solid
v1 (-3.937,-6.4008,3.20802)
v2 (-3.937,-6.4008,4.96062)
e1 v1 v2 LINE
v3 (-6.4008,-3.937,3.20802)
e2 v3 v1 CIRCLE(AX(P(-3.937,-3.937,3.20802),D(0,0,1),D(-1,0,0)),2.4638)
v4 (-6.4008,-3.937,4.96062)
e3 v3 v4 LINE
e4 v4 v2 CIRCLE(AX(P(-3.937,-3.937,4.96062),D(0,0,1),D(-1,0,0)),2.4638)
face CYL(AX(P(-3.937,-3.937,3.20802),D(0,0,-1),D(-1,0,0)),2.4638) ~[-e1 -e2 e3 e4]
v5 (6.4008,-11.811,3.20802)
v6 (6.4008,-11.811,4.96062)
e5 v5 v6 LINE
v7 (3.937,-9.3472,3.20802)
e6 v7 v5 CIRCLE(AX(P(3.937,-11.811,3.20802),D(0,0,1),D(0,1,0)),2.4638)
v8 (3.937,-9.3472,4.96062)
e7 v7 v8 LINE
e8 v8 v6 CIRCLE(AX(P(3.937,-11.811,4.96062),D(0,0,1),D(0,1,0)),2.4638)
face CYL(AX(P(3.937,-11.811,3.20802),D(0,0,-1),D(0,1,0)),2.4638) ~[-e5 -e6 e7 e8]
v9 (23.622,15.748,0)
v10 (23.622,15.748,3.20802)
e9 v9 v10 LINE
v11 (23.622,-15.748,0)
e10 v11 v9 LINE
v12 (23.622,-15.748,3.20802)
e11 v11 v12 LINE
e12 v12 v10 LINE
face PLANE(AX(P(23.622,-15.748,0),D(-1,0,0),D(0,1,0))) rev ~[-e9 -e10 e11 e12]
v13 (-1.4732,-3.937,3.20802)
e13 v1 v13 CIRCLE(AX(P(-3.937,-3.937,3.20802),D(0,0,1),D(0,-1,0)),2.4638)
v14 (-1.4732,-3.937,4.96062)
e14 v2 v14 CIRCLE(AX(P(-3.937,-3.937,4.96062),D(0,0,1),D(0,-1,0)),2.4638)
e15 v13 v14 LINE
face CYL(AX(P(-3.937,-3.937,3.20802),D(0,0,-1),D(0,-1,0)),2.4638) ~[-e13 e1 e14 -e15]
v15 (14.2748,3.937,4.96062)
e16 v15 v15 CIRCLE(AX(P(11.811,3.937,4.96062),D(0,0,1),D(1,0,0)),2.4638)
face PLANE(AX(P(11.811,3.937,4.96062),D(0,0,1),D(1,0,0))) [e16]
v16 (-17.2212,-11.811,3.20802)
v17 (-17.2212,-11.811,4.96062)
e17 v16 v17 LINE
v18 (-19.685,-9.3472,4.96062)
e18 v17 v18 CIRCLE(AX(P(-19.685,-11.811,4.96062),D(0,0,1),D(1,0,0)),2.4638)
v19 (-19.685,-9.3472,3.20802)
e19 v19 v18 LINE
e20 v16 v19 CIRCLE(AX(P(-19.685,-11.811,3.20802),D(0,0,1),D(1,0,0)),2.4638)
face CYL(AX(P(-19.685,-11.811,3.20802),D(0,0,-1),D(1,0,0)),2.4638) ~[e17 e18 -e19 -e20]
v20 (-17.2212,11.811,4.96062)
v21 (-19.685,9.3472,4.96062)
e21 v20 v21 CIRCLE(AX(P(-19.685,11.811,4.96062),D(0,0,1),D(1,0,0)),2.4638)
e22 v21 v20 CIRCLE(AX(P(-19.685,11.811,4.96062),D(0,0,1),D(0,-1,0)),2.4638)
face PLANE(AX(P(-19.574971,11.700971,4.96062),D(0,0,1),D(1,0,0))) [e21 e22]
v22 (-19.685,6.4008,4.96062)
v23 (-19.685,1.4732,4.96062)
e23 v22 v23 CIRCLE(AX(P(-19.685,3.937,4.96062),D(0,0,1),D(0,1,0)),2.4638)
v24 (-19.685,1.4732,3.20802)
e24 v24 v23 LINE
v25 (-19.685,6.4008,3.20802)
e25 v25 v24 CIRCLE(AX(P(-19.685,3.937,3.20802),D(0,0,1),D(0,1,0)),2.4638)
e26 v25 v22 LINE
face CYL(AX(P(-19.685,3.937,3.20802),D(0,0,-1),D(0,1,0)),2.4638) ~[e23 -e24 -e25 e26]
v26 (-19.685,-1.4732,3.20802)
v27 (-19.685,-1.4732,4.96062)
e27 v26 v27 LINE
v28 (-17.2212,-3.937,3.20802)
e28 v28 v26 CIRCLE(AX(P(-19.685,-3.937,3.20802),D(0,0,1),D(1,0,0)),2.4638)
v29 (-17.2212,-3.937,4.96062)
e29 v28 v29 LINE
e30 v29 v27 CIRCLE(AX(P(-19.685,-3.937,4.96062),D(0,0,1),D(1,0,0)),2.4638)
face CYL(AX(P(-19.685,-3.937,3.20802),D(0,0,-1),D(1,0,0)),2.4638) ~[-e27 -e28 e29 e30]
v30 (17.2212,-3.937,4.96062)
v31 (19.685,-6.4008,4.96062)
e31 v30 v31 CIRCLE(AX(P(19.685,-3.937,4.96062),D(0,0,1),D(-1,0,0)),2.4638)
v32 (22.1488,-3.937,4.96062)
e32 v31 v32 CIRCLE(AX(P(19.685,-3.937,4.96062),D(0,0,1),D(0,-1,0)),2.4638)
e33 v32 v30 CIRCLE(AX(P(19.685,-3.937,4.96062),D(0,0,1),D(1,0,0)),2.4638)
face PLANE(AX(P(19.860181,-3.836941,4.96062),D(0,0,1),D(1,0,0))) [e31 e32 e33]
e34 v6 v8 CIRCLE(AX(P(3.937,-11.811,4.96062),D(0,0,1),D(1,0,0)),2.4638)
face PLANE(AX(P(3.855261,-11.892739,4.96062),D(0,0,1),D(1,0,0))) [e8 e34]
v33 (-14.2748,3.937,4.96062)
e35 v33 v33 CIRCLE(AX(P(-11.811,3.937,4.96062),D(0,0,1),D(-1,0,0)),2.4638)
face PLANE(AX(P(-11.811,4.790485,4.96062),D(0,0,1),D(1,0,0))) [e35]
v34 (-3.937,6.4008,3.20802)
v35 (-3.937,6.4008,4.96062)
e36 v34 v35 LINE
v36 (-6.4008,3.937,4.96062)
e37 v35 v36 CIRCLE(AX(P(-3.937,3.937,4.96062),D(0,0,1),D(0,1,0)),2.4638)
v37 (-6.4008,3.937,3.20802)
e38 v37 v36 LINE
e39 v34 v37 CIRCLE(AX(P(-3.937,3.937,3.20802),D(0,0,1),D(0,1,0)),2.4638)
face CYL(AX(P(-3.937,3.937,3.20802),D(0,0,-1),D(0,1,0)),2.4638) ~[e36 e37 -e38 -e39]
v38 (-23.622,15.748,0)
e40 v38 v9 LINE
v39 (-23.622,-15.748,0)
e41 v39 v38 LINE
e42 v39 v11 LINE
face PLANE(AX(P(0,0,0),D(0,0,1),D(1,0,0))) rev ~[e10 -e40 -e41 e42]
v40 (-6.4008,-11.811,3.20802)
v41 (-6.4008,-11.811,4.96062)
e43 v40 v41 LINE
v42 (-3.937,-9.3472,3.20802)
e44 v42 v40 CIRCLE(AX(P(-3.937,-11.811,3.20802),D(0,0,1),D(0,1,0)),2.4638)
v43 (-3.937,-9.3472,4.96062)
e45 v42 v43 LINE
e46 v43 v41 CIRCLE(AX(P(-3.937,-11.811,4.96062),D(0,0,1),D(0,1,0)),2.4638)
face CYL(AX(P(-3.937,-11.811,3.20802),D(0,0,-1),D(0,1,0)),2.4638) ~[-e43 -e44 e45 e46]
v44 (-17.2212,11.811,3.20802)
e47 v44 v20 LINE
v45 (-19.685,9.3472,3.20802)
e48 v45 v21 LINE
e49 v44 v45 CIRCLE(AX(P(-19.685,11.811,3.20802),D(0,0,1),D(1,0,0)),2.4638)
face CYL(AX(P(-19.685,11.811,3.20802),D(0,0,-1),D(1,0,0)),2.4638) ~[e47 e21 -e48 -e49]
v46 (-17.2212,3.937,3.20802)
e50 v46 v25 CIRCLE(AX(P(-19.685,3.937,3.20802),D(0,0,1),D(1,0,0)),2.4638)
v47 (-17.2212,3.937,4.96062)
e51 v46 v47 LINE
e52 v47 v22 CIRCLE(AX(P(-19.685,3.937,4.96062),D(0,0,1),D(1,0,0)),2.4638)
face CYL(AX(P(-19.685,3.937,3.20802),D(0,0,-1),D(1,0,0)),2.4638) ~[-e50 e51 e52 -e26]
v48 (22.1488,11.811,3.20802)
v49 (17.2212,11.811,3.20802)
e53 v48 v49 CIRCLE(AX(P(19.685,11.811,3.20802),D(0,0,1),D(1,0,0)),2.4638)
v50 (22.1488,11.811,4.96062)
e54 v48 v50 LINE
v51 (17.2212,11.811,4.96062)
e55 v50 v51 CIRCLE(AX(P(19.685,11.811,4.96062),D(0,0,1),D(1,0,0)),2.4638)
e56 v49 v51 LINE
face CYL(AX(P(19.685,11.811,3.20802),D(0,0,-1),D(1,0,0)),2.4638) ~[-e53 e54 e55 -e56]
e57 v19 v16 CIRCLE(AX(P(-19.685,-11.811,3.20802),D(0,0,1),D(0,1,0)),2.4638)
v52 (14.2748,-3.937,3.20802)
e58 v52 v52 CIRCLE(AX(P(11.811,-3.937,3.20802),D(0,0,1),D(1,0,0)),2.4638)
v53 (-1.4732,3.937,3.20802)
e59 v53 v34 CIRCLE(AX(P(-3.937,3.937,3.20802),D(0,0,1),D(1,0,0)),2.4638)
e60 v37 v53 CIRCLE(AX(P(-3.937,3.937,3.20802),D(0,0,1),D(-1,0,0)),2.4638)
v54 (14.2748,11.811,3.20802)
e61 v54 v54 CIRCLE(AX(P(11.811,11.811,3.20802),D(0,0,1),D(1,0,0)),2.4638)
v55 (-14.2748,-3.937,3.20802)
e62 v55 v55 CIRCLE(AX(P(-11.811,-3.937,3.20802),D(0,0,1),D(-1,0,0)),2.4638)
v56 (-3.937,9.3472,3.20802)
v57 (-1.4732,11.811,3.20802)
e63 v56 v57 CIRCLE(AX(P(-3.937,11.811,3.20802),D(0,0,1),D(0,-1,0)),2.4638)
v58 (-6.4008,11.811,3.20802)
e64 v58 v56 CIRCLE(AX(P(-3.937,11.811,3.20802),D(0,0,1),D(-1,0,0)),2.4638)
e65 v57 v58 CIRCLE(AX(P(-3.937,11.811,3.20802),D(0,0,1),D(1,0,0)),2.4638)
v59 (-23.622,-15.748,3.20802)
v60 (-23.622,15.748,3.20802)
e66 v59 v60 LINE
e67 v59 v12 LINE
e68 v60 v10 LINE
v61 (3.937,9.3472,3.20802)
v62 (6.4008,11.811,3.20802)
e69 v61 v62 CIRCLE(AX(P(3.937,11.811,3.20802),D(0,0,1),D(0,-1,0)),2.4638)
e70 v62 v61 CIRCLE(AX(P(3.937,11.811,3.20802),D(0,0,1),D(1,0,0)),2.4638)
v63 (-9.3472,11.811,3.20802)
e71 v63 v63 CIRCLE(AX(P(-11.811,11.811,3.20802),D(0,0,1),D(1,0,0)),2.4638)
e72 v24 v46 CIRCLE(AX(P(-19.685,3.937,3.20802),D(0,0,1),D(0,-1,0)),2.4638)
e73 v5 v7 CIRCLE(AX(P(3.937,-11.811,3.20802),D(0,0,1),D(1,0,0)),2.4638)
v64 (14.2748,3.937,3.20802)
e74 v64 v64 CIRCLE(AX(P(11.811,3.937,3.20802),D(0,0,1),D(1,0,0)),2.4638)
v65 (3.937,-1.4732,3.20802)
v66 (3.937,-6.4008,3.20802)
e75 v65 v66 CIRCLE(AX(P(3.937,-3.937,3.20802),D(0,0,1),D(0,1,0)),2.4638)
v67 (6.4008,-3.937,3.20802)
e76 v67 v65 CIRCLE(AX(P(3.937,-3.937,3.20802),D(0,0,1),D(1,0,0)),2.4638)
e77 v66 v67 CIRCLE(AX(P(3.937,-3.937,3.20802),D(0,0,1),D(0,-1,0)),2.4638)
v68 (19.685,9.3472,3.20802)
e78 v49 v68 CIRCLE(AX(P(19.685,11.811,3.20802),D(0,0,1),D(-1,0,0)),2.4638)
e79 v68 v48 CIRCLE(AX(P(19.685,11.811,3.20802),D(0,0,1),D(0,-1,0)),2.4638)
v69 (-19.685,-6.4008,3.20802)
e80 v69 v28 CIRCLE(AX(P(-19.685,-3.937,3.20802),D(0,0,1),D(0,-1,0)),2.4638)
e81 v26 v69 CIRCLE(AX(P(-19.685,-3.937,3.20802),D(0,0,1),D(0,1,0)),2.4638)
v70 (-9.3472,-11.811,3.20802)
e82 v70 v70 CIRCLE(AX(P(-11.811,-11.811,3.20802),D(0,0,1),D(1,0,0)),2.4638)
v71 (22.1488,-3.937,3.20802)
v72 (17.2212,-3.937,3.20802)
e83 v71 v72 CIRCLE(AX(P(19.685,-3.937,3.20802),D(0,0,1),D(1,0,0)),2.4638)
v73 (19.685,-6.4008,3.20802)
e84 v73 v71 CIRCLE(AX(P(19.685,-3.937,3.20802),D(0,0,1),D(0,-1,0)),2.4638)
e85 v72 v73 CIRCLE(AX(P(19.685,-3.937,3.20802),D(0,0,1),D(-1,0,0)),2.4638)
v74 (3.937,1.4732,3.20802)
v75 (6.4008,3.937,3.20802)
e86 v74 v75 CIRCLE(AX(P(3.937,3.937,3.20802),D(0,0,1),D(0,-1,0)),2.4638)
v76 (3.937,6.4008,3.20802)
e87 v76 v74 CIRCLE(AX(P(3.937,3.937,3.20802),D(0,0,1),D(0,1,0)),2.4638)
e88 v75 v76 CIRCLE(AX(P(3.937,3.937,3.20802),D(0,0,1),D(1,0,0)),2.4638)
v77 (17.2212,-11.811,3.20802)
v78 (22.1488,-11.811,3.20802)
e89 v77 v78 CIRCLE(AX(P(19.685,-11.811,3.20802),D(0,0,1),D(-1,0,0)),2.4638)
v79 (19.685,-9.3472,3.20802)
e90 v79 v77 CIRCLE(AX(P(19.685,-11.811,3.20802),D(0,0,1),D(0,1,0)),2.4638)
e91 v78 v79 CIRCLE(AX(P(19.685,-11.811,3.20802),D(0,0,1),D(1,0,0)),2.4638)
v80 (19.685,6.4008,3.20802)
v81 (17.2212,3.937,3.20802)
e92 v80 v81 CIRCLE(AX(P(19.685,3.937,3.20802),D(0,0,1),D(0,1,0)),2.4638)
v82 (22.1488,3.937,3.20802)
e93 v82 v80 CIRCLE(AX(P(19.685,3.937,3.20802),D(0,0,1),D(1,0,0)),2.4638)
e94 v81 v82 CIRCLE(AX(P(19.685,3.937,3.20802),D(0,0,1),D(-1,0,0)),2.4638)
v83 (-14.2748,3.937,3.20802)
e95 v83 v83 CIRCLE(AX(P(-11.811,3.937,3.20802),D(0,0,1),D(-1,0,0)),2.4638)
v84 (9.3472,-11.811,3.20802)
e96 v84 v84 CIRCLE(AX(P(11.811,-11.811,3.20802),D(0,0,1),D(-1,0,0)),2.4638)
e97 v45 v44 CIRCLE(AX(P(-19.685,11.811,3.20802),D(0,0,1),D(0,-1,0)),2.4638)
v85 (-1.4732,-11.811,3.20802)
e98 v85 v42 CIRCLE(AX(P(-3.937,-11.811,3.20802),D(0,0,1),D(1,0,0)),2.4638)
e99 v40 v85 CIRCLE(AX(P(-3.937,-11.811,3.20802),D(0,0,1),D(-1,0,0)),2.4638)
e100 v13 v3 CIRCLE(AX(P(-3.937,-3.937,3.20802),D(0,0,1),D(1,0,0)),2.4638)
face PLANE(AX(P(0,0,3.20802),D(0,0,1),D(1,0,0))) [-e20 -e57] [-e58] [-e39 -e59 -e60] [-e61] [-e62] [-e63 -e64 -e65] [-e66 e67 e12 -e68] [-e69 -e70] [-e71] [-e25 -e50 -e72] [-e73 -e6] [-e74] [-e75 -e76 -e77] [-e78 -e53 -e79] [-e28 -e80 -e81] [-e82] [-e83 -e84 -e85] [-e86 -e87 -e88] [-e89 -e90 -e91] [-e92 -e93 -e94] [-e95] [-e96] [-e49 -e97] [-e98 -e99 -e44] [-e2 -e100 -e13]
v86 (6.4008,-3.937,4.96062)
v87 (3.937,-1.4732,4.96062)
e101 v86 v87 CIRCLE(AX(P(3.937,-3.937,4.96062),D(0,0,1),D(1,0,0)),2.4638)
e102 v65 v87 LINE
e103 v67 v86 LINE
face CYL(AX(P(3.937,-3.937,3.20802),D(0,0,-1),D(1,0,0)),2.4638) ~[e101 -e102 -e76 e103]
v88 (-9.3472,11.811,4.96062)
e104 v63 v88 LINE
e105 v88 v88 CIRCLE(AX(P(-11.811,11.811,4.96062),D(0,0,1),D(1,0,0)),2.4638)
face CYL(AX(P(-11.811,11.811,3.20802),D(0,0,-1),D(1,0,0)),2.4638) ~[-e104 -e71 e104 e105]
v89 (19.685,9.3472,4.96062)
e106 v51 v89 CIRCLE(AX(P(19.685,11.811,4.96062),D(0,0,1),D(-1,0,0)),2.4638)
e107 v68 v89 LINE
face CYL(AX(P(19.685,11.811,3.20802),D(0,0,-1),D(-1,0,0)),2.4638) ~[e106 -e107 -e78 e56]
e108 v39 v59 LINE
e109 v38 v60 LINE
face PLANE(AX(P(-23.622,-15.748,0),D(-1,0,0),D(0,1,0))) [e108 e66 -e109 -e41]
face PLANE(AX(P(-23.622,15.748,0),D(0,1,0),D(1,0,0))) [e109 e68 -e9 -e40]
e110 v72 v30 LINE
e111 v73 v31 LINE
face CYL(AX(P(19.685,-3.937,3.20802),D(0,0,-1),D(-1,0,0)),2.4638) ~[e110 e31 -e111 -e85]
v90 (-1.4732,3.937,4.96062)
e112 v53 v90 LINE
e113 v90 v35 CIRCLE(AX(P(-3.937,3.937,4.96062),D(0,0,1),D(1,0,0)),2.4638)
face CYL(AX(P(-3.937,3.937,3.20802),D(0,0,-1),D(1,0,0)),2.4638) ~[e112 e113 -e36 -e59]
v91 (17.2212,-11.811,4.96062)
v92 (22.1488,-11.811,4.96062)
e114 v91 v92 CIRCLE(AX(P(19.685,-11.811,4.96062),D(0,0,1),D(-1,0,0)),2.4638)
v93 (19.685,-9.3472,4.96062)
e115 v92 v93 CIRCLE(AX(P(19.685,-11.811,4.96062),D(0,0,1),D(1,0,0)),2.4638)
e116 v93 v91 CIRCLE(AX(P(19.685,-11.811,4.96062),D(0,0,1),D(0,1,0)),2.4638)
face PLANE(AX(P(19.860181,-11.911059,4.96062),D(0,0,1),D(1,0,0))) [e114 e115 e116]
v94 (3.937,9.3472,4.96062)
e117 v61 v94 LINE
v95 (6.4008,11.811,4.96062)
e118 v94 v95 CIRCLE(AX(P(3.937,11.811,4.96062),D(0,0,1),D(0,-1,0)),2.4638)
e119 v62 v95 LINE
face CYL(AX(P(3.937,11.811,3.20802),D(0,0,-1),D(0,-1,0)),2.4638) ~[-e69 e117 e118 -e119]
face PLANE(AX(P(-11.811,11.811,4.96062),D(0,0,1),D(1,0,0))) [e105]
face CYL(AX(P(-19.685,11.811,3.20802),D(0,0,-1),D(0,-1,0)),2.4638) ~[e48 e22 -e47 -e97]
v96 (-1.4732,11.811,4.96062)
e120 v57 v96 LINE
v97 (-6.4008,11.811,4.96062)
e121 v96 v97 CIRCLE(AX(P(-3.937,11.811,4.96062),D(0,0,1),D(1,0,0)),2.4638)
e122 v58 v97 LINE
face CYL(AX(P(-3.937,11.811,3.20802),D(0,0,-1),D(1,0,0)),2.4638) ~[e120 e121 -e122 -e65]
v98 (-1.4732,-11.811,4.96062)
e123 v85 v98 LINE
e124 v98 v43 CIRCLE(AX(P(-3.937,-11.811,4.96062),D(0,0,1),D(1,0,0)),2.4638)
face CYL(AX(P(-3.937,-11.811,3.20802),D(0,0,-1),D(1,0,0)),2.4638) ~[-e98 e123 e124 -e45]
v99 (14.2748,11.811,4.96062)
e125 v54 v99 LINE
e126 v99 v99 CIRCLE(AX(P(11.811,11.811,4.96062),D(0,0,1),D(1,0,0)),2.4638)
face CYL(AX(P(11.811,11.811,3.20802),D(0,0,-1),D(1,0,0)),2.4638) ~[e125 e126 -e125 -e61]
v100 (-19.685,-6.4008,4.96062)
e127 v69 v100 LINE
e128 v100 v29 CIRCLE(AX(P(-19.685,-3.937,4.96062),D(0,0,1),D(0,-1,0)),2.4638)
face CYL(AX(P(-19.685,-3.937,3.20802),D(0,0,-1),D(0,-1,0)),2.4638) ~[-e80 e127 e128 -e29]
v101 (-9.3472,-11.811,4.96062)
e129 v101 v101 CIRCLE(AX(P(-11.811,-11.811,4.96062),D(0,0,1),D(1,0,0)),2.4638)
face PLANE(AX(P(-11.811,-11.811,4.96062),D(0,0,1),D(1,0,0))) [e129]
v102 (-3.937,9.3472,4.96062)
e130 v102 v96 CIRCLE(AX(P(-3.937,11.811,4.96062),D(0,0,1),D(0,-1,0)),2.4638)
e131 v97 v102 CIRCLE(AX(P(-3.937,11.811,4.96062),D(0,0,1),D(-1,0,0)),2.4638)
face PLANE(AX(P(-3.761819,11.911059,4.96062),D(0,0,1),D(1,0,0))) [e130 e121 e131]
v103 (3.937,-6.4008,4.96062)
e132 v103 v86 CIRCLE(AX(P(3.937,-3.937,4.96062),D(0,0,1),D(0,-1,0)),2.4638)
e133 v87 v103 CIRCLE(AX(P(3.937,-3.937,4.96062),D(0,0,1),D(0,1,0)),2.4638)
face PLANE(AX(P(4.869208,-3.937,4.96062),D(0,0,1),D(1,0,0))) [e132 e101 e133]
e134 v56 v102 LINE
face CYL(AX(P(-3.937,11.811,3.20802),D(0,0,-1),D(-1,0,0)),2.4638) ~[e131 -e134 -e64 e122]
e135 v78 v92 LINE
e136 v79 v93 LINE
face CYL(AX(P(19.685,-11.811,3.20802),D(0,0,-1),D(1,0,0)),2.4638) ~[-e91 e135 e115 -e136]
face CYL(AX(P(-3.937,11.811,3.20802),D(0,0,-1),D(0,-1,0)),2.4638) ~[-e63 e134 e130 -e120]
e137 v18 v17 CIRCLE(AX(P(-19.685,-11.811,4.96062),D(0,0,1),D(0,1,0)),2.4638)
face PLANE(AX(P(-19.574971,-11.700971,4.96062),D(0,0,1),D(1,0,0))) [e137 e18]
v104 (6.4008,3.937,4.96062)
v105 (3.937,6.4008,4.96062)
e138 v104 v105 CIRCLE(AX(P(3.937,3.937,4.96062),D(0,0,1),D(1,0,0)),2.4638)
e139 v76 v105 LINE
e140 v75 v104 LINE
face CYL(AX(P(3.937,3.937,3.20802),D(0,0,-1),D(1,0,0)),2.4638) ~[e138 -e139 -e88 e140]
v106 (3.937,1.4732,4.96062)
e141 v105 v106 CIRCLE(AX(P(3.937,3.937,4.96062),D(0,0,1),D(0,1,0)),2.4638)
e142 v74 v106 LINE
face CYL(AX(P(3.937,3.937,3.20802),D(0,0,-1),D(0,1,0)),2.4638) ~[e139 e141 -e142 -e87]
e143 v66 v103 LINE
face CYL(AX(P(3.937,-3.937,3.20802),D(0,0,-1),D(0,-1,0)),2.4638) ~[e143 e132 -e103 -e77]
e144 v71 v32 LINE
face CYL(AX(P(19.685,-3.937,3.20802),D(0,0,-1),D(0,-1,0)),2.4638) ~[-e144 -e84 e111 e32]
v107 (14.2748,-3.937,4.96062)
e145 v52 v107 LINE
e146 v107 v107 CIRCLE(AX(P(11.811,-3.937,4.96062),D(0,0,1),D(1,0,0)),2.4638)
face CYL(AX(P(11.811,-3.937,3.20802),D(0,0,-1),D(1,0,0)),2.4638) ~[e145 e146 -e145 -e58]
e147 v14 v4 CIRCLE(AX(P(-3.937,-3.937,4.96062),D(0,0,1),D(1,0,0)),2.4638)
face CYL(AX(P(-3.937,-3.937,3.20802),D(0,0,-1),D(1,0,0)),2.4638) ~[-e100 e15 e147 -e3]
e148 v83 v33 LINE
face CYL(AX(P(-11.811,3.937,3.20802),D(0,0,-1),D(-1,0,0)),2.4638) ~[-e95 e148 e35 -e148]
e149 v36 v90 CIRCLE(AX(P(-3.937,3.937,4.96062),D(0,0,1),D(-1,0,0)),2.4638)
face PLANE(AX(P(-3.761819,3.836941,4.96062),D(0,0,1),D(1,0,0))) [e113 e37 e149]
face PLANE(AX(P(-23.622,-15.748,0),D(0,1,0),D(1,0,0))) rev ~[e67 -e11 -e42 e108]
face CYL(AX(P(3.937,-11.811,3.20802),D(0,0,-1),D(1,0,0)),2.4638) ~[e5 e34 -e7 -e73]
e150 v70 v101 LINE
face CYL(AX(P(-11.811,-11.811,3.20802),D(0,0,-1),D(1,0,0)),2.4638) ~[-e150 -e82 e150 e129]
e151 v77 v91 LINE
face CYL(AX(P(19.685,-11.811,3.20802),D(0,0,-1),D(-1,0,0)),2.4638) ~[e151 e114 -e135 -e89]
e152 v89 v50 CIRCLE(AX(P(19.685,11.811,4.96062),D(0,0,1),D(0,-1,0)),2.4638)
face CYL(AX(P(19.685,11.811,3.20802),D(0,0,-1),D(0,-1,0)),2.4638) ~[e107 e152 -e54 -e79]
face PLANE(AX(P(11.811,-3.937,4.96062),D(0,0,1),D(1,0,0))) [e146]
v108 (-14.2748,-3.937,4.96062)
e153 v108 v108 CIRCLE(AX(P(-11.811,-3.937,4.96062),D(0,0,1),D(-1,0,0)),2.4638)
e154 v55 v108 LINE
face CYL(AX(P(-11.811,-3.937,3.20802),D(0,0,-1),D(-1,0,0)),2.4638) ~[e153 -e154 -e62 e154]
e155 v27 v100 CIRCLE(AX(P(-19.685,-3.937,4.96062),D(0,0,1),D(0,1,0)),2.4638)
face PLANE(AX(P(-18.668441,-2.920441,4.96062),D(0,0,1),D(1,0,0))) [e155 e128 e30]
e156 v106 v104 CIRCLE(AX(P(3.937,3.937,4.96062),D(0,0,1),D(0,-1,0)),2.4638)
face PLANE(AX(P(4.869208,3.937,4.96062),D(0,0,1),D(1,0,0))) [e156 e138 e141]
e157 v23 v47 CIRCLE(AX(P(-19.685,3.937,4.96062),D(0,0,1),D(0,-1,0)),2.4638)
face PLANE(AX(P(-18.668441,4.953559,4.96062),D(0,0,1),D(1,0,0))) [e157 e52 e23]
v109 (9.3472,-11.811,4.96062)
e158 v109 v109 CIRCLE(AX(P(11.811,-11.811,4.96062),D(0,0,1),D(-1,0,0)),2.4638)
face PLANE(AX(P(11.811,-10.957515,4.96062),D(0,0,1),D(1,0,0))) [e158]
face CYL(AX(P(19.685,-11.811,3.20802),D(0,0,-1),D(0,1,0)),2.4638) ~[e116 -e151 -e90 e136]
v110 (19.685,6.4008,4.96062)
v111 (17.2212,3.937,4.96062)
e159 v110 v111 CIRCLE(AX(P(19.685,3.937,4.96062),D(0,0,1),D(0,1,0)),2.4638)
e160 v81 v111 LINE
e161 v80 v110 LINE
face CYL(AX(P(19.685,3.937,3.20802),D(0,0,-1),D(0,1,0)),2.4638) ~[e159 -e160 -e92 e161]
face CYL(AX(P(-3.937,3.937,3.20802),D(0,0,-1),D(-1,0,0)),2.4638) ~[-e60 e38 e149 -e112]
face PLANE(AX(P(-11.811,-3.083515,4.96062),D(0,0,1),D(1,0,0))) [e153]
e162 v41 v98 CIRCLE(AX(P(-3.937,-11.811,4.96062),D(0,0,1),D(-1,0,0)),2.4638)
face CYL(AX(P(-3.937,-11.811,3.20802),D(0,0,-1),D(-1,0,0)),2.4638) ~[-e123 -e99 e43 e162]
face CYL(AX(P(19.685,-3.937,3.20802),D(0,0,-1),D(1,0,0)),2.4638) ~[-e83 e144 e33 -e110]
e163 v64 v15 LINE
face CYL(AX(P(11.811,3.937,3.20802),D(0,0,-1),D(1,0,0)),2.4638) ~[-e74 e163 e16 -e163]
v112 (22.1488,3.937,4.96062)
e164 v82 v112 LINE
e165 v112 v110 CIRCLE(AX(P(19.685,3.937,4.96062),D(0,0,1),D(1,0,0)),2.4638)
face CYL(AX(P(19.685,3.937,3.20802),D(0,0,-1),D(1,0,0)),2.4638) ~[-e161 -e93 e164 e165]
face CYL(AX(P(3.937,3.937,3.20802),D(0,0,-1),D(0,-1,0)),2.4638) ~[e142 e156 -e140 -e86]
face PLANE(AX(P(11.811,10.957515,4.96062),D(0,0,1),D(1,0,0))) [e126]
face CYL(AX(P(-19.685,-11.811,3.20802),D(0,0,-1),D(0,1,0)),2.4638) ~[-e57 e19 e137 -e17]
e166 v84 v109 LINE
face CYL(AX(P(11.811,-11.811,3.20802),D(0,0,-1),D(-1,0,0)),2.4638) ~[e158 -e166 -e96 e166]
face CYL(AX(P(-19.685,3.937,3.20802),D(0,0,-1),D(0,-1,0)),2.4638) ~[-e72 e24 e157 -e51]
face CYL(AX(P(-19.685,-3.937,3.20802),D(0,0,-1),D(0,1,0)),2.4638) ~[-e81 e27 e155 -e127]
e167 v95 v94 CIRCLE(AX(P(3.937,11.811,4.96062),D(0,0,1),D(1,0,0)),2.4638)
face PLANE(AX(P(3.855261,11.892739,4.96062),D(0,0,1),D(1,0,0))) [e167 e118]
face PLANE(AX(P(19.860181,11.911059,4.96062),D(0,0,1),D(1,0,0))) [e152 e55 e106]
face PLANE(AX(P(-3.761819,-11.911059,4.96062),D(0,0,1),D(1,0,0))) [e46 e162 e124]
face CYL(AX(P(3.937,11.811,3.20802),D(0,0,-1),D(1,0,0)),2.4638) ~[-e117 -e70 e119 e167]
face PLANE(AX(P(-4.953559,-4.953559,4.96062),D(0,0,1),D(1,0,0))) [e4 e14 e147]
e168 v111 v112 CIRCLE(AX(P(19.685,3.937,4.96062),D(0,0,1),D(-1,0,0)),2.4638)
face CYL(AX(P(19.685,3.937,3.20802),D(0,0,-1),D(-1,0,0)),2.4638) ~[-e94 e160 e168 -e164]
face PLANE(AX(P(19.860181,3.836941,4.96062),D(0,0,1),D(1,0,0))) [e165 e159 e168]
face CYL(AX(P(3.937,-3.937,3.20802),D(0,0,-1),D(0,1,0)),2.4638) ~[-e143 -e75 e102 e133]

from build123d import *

# Parameters (mm, degrees)
F0_W     = 47.244
F0_H     = 31.496
F1_DEPTH = 3.20802
F2_R     = 2.4638
F3_DEPTH = 1.7526


with BuildPart() as f1:
    # F0 (on Top) → F1 (new body)
    with BuildSketch(Plane.XY):
        Rectangle(F0_W, F0_H)
    extrude(amount=F1_DEPTH)

    # F2 (on face) → F3 (join)
    with BuildSketch(Plane.XY.offset(3.20802)):
        with BuildLine():
            ThreePointArc((-17.2212, 11.811), (-21.4271696875, 13.5531696875), (-19.685, 9.3472))
            ThreePointArc((-19.685, 9.3472), (-17.9428303125, 10.0688303125), (-17.2212, 11.811))
        make_face()
        with Locations((-11.811, 11.811)):
            Circle(F2_R)
        with BuildLine():
            Line((-3.937, 11.811), (-3.937, 9.3472))
            ThreePointArc((-3.937, 9.3472), (-2.1948303125, 10.0688303125), (-1.4732, 11.811))
            ThreePointArc((-1.4732, 11.811), (-3.937, 14.2748), (-6.4008, 11.811))
            Line((-6.4008, 11.811), (-3.937, 11.811))
        make_face()
        with BuildLine():
            ThreePointArc((-6.4008, 11.811), (-5.6791696875, 10.0688303125), (-3.937, 9.3472))
            Line((-3.937, 9.3472), (-3.937, 11.811))
            Line((-3.937, 11.811), (-6.4008, 11.811))
        make_face()
        with BuildLine():
            ThreePointArc((6.4008, 11.811), (2.1948303125, 13.5531696875), (3.937, 9.3472))
            Line((3.937, 9.3472), (3.937, 11.811))
            Line((3.937, 11.811), (6.4008, 11.811))
        make_face()
        with BuildLine():
            Line((3.937, 11.811), (3.937, 9.3472))
            ThreePointArc((3.937, 9.3472), (5.6791696875, 10.0688303125), (6.4008, 11.811))
            Line((6.4008, 11.811), (3.937, 11.811))
        make_face()
        with BuildLine():
            Line((3.937, 3.937), (3.937, 1.4732))
            ThreePointArc((3.937, 1.4732), (5.6791696875, 2.1948303125), (6.4008, 3.937))
            ThreePointArc((6.4008, 3.937), (5.6791696875, 5.6791696875), (3.937, 6.4008))
            Line((3.937, 6.4008), (3.937, 3.937))
        make_face()
        with BuildLine():
            ThreePointArc((3.937, 6.4008), (1.4732, 3.937), (3.937, 1.4732))
            Line((3.937, 1.4732), (3.937, 3.937))
            Line((3.937, 3.937), (3.937, 6.4008))
        make_face()
        with BuildLine():
            Line((-3.937, 3.937), (-6.4008, 3.937))
            ThreePointArc((-6.4008, 3.937), (-3.937, 1.4732), (-1.4732, 3.937))
            ThreePointArc((-1.4732, 3.937), (-2.1948303125, 5.6791696875), (-3.937, 6.4008))
            Line((-3.937, 6.4008), (-3.937, 3.937))
        make_face()
        with BuildLine():
            ThreePointArc((-3.937, 6.4008), (-5.6791696875, 5.6791696875), (-6.4008, 3.937))
            Line((-6.4008, 3.937), (-3.937, 3.937))
            Line((-3.937, 3.937), (-3.937, 6.4008))
        make_face()
        with BuildLine():
            ThreePointArc((-9.3472, 3.937), (-11.811, 6.4008), (-14.2748, 3.937))
            Line((-14.2748, 3.937), (-11.811, 3.937))
            Line((-11.811, 3.937), (-9.3472, 3.937))
        make_face()
        with BuildLine():
            Line((-11.811, 3.937), (-14.2748, 3.937))
            ThreePointArc((-14.2748, 3.937), (-11.811, 1.4732), (-9.3472, 3.937))
            Line((-9.3472, 3.937), (-11.811, 3.937))
        make_face()
        with BuildLine():
            Line((-19.685, 6.4008), (-19.685, 3.937))
            Line((-19.685, 3.937), (-17.2212, 3.937))
            ThreePointArc((-17.2212, 3.937), (-17.9428303125, 5.6791696875), (-19.685, 6.4008))
        make_face()
        with BuildLine():
            Line((-19.685, 3.937), (-19.685, 1.4732))
            ThreePointArc((-19.685, 1.4732), (-17.9428303125, 2.1948303125), (-17.2212, 3.937))
            Line((-17.2212, 3.937), (-19.685, 3.937))
        make_face()
        with BuildLine():
            ThreePointArc((-19.685, 6.4008), (-22.1488, 3.937), (-19.685, 1.4732))
            Line((-19.685, 1.4732), (-19.685, 3.937))
            Line((-19.685, 3.937), (-19.685, 6.4008))
        make_face()
        with BuildLine():
            ThreePointArc((-17.2212, -3.937), (-17.9428303125, -2.1948303125), (-19.685, -1.4732))
            Line((-19.685, -1.4732), (-19.685, -3.937))
            Line((-19.685, -3.937), (-17.2212, -3.937))
        make_face()
        with BuildLine():
            Line((-17.2212, -3.937), (-19.685, -3.937))
            Line((-19.685, -3.937), (-19.685, -6.4008))
            ThreePointArc((-19.685, -6.4008), (-17.9428303125, -5.6791696875), (-17.2212, -3.937))
        make_face()
        with BuildLine():
            Line((-19.685, -3.937), (-19.685, -1.4732))
            ThreePointArc((-19.685, -1.4732), (-22.1488, -3.937), (-19.685, -6.4008))
            Line((-19.685, -6.4008), (-19.685, -3.937))
        make_face()
        with BuildLine():
            ThreePointArc((-9.3472, -3.937), (-11.811, -1.4732), (-14.2748, -3.937))
            Line((-14.2748, -3.937), (-11.811, -3.937))
            Line((-11.811, -3.937), (-9.3472, -3.937))
        make_face()
        with BuildLine():
            Line((-11.811, -3.937), (-14.2748, -3.937))
            ThreePointArc((-14.2748, -3.937), (-11.811, -6.4008), (-9.3472, -3.937))
            Line((-9.3472, -3.937), (-11.811, -3.937))
        make_face()
        with BuildLine():
            Line((-3.937, -3.937), (-6.4008, -3.937))
            ThreePointArc((-6.4008, -3.937), (-5.6791696875, -5.6791696875), (-3.937, -6.4008))
            Line((-3.937, -6.4008), (-3.937, -3.937))
        make_face()
        with BuildLine():
            ThreePointArc((-1.4732, -3.937), (-3.937, -1.4732), (-6.4008, -3.937))
            Line((-6.4008, -3.937), (-3.937, -3.937))
            Line((-3.937, -3.937), (-3.937, -6.4008))
            ThreePointArc((-3.937, -6.4008), (-2.1948303125, -5.6791696875), (-1.4732, -3.937))
        make_face()
        with BuildLine():
            ThreePointArc((-1.4732, -11.811), (-2.1948303125, -10.0688303125), (-3.937, -9.3472))
            Line((-3.937, -9.3472), (-3.937, -11.811))
            Line((-3.937, -11.811), (-6.4008, -11.811))
            ThreePointArc((-6.4008, -11.811), (-3.937, -14.2748), (-1.4732, -11.811))
        make_face()
        with BuildLine():
            Line((-3.937, -11.811), (-3.937, -9.3472))
            ThreePointArc((-3.937, -9.3472), (-5.6791696875, -10.0688303125), (-6.4008, -11.811))
            Line((-6.4008, -11.811), (-3.937, -11.811))
        make_face()
        with Locations((-11.811, -11.811)):
            Circle(F2_R)
        with BuildLine():
            ThreePointArc((-17.2212, -11.811), (-17.9428303125, -10.0688303125), (-19.685, -9.3472))
            ThreePointArc((-19.685, -9.3472), (-21.4271696875, -13.5531696875), (-17.2212, -11.811))
        make_face()
        with BuildLine():
            Line((3.937, -11.811), (3.937, -9.3472))
            ThreePointArc((3.937, -9.3472), (2.1948303125, -13.5531696875), (6.4008, -11.811))
            Line((6.4008, -11.811), (3.937, -11.811))
        make_face()
        with BuildLine():
            ThreePointArc((6.4008, -11.811), (5.6791696875, -10.0688303125), (3.937, -9.3472))
            Line((3.937, -9.3472), (3.937, -11.811))
            Line((3.937, -11.811), (6.4008, -11.811))
        make_face()
        with BuildLine():
            ThreePointArc((6.4008, -3.937), (5.6791696875, -2.1948303125), (3.937, -1.4732))
            Line((3.937, -1.4732), (3.937, -3.937))
            Line((3.937, -3.937), (3.937, -6.4008))
            ThreePointArc((3.937, -6.4008), (5.6791696875, -5.6791696875), (6.4008, -3.937))
        make_face()
        with BuildLine():
            Line((3.937, -3.937), (3.937, -1.4732))
            ThreePointArc((3.937, -1.4732), (1.4732, -3.937), (3.937, -6.4008))
            Line((3.937, -6.4008), (3.937, -3.937))
        make_face()
        with Locations((11.811, -3.937)):
            Circle(F2_R)
        with BuildLine():
            Line((19.685, -3.937), (19.685, -6.4008))
            ThreePointArc((19.685, -6.4008), (21.4271696875, -5.6791696875), (22.1488, -3.937))
            ThreePointArc((22.1488, -3.937), (19.685, -1.4732), (17.2212, -3.937))
            Line((17.2212, -3.937), (19.685, -3.937))
        make_face()
        with BuildLine():
            ThreePointArc((17.2212, -3.937), (17.9428303125, -5.6791696875), (19.685, -6.4008))
            Line((19.685, -6.4008), (19.685, -3.937))
            Line((19.685, -3.937), (17.2212, -3.937))
        make_face()
        with BuildLine():
            Line((19.685, -11.811), (17.2212, -11.811))
            ThreePointArc((17.2212, -11.811), (19.685, -14.2748), (22.1488, -11.811))
            ThreePointArc((22.1488, -11.811), (21.4271696875, -10.0688303125), (19.685, -9.3472))
            Line((19.685, -9.3472), (19.685, -11.811))
        make_face()
        with BuildLine():
            ThreePointArc((19.685, -9.3472), (17.9428303125, -10.0688303125), (17.2212, -11.811))
            Line((17.2212, -11.811), (19.685, -11.811))
            Line((19.685, -11.811), (19.685, -9.3472))
        make_face()
        with BuildLine():
            ThreePointArc((14.2748, -11.811), (11.811, -9.3472), (9.3472, -11.811))
            Line((9.3472, -11.811), (11.811, -11.811))
            Line((11.811, -11.811), (14.2748, -11.811))
        make_face()
        with BuildLine():
            Line((11.811, -11.811), (9.3472, -11.811))
            ThreePointArc((9.3472, -11.811), (11.811, -14.2748), (14.2748, -11.811))
            Line((14.2748, -11.811), (11.811, -11.811))
        make_face()
        with BuildLine():
            ThreePointArc((22.1488, 3.937), (21.4271696875, 5.6791696875), (19.685, 6.4008))
            Line((19.685, 6.4008), (19.685, 3.937))
            Line((19.685, 3.937), (17.2212, 3.937))
            ThreePointArc((17.2212, 3.937), (19.685, 1.4732), (22.1488, 3.937))
        make_face()
        with BuildLine():
            Line((19.685, 3.937), (19.685, 6.4008))
            ThreePointArc((19.685, 6.4008), (17.9428303125, 5.6791696875), (17.2212, 3.937))
            Line((17.2212, 3.937), (19.685, 3.937))
        make_face()
        with Locations((11.811, 3.937)):
            Circle(F2_R)
        with BuildLine():
            Line((11.811, 11.811), (9.3472, 11.811))
            ThreePointArc((9.3472, 11.811), (11.811, 9.3472), (14.2748, 11.811))
            Line((14.2748, 11.811), (11.811, 11.811))
        make_face()
        with BuildLine():
            ThreePointArc((14.2748, 11.811), (11.811, 14.2748), (9.3472, 11.811))
            Line((9.3472, 11.811), (11.811, 11.811))
            Line((11.811, 11.811), (14.2748, 11.811))
        make_face()
        with BuildLine():
            ThreePointArc((22.1488, 11.811), (19.685, 14.2748), (17.2212, 11.811))
            Line((17.2212, 11.811), (19.685, 11.811))
            Line((19.685, 11.811), (19.685, 9.3472))
            ThreePointArc((19.685, 9.3472), (21.4271696875, 10.0688303125), (22.1488, 11.811))
        make_face()
        with BuildLine():
            Line((19.685, 11.811), (17.2212, 11.811))
            ThreePointArc((17.2212, 11.811), (17.9428303125, 10.0688303125), (19.685, 9.3472))
            Line((19.685, 9.3472), (19.685, 11.811))
        make_face()
    extrude(amount=F3_DEPTH)


solid = f1.part
